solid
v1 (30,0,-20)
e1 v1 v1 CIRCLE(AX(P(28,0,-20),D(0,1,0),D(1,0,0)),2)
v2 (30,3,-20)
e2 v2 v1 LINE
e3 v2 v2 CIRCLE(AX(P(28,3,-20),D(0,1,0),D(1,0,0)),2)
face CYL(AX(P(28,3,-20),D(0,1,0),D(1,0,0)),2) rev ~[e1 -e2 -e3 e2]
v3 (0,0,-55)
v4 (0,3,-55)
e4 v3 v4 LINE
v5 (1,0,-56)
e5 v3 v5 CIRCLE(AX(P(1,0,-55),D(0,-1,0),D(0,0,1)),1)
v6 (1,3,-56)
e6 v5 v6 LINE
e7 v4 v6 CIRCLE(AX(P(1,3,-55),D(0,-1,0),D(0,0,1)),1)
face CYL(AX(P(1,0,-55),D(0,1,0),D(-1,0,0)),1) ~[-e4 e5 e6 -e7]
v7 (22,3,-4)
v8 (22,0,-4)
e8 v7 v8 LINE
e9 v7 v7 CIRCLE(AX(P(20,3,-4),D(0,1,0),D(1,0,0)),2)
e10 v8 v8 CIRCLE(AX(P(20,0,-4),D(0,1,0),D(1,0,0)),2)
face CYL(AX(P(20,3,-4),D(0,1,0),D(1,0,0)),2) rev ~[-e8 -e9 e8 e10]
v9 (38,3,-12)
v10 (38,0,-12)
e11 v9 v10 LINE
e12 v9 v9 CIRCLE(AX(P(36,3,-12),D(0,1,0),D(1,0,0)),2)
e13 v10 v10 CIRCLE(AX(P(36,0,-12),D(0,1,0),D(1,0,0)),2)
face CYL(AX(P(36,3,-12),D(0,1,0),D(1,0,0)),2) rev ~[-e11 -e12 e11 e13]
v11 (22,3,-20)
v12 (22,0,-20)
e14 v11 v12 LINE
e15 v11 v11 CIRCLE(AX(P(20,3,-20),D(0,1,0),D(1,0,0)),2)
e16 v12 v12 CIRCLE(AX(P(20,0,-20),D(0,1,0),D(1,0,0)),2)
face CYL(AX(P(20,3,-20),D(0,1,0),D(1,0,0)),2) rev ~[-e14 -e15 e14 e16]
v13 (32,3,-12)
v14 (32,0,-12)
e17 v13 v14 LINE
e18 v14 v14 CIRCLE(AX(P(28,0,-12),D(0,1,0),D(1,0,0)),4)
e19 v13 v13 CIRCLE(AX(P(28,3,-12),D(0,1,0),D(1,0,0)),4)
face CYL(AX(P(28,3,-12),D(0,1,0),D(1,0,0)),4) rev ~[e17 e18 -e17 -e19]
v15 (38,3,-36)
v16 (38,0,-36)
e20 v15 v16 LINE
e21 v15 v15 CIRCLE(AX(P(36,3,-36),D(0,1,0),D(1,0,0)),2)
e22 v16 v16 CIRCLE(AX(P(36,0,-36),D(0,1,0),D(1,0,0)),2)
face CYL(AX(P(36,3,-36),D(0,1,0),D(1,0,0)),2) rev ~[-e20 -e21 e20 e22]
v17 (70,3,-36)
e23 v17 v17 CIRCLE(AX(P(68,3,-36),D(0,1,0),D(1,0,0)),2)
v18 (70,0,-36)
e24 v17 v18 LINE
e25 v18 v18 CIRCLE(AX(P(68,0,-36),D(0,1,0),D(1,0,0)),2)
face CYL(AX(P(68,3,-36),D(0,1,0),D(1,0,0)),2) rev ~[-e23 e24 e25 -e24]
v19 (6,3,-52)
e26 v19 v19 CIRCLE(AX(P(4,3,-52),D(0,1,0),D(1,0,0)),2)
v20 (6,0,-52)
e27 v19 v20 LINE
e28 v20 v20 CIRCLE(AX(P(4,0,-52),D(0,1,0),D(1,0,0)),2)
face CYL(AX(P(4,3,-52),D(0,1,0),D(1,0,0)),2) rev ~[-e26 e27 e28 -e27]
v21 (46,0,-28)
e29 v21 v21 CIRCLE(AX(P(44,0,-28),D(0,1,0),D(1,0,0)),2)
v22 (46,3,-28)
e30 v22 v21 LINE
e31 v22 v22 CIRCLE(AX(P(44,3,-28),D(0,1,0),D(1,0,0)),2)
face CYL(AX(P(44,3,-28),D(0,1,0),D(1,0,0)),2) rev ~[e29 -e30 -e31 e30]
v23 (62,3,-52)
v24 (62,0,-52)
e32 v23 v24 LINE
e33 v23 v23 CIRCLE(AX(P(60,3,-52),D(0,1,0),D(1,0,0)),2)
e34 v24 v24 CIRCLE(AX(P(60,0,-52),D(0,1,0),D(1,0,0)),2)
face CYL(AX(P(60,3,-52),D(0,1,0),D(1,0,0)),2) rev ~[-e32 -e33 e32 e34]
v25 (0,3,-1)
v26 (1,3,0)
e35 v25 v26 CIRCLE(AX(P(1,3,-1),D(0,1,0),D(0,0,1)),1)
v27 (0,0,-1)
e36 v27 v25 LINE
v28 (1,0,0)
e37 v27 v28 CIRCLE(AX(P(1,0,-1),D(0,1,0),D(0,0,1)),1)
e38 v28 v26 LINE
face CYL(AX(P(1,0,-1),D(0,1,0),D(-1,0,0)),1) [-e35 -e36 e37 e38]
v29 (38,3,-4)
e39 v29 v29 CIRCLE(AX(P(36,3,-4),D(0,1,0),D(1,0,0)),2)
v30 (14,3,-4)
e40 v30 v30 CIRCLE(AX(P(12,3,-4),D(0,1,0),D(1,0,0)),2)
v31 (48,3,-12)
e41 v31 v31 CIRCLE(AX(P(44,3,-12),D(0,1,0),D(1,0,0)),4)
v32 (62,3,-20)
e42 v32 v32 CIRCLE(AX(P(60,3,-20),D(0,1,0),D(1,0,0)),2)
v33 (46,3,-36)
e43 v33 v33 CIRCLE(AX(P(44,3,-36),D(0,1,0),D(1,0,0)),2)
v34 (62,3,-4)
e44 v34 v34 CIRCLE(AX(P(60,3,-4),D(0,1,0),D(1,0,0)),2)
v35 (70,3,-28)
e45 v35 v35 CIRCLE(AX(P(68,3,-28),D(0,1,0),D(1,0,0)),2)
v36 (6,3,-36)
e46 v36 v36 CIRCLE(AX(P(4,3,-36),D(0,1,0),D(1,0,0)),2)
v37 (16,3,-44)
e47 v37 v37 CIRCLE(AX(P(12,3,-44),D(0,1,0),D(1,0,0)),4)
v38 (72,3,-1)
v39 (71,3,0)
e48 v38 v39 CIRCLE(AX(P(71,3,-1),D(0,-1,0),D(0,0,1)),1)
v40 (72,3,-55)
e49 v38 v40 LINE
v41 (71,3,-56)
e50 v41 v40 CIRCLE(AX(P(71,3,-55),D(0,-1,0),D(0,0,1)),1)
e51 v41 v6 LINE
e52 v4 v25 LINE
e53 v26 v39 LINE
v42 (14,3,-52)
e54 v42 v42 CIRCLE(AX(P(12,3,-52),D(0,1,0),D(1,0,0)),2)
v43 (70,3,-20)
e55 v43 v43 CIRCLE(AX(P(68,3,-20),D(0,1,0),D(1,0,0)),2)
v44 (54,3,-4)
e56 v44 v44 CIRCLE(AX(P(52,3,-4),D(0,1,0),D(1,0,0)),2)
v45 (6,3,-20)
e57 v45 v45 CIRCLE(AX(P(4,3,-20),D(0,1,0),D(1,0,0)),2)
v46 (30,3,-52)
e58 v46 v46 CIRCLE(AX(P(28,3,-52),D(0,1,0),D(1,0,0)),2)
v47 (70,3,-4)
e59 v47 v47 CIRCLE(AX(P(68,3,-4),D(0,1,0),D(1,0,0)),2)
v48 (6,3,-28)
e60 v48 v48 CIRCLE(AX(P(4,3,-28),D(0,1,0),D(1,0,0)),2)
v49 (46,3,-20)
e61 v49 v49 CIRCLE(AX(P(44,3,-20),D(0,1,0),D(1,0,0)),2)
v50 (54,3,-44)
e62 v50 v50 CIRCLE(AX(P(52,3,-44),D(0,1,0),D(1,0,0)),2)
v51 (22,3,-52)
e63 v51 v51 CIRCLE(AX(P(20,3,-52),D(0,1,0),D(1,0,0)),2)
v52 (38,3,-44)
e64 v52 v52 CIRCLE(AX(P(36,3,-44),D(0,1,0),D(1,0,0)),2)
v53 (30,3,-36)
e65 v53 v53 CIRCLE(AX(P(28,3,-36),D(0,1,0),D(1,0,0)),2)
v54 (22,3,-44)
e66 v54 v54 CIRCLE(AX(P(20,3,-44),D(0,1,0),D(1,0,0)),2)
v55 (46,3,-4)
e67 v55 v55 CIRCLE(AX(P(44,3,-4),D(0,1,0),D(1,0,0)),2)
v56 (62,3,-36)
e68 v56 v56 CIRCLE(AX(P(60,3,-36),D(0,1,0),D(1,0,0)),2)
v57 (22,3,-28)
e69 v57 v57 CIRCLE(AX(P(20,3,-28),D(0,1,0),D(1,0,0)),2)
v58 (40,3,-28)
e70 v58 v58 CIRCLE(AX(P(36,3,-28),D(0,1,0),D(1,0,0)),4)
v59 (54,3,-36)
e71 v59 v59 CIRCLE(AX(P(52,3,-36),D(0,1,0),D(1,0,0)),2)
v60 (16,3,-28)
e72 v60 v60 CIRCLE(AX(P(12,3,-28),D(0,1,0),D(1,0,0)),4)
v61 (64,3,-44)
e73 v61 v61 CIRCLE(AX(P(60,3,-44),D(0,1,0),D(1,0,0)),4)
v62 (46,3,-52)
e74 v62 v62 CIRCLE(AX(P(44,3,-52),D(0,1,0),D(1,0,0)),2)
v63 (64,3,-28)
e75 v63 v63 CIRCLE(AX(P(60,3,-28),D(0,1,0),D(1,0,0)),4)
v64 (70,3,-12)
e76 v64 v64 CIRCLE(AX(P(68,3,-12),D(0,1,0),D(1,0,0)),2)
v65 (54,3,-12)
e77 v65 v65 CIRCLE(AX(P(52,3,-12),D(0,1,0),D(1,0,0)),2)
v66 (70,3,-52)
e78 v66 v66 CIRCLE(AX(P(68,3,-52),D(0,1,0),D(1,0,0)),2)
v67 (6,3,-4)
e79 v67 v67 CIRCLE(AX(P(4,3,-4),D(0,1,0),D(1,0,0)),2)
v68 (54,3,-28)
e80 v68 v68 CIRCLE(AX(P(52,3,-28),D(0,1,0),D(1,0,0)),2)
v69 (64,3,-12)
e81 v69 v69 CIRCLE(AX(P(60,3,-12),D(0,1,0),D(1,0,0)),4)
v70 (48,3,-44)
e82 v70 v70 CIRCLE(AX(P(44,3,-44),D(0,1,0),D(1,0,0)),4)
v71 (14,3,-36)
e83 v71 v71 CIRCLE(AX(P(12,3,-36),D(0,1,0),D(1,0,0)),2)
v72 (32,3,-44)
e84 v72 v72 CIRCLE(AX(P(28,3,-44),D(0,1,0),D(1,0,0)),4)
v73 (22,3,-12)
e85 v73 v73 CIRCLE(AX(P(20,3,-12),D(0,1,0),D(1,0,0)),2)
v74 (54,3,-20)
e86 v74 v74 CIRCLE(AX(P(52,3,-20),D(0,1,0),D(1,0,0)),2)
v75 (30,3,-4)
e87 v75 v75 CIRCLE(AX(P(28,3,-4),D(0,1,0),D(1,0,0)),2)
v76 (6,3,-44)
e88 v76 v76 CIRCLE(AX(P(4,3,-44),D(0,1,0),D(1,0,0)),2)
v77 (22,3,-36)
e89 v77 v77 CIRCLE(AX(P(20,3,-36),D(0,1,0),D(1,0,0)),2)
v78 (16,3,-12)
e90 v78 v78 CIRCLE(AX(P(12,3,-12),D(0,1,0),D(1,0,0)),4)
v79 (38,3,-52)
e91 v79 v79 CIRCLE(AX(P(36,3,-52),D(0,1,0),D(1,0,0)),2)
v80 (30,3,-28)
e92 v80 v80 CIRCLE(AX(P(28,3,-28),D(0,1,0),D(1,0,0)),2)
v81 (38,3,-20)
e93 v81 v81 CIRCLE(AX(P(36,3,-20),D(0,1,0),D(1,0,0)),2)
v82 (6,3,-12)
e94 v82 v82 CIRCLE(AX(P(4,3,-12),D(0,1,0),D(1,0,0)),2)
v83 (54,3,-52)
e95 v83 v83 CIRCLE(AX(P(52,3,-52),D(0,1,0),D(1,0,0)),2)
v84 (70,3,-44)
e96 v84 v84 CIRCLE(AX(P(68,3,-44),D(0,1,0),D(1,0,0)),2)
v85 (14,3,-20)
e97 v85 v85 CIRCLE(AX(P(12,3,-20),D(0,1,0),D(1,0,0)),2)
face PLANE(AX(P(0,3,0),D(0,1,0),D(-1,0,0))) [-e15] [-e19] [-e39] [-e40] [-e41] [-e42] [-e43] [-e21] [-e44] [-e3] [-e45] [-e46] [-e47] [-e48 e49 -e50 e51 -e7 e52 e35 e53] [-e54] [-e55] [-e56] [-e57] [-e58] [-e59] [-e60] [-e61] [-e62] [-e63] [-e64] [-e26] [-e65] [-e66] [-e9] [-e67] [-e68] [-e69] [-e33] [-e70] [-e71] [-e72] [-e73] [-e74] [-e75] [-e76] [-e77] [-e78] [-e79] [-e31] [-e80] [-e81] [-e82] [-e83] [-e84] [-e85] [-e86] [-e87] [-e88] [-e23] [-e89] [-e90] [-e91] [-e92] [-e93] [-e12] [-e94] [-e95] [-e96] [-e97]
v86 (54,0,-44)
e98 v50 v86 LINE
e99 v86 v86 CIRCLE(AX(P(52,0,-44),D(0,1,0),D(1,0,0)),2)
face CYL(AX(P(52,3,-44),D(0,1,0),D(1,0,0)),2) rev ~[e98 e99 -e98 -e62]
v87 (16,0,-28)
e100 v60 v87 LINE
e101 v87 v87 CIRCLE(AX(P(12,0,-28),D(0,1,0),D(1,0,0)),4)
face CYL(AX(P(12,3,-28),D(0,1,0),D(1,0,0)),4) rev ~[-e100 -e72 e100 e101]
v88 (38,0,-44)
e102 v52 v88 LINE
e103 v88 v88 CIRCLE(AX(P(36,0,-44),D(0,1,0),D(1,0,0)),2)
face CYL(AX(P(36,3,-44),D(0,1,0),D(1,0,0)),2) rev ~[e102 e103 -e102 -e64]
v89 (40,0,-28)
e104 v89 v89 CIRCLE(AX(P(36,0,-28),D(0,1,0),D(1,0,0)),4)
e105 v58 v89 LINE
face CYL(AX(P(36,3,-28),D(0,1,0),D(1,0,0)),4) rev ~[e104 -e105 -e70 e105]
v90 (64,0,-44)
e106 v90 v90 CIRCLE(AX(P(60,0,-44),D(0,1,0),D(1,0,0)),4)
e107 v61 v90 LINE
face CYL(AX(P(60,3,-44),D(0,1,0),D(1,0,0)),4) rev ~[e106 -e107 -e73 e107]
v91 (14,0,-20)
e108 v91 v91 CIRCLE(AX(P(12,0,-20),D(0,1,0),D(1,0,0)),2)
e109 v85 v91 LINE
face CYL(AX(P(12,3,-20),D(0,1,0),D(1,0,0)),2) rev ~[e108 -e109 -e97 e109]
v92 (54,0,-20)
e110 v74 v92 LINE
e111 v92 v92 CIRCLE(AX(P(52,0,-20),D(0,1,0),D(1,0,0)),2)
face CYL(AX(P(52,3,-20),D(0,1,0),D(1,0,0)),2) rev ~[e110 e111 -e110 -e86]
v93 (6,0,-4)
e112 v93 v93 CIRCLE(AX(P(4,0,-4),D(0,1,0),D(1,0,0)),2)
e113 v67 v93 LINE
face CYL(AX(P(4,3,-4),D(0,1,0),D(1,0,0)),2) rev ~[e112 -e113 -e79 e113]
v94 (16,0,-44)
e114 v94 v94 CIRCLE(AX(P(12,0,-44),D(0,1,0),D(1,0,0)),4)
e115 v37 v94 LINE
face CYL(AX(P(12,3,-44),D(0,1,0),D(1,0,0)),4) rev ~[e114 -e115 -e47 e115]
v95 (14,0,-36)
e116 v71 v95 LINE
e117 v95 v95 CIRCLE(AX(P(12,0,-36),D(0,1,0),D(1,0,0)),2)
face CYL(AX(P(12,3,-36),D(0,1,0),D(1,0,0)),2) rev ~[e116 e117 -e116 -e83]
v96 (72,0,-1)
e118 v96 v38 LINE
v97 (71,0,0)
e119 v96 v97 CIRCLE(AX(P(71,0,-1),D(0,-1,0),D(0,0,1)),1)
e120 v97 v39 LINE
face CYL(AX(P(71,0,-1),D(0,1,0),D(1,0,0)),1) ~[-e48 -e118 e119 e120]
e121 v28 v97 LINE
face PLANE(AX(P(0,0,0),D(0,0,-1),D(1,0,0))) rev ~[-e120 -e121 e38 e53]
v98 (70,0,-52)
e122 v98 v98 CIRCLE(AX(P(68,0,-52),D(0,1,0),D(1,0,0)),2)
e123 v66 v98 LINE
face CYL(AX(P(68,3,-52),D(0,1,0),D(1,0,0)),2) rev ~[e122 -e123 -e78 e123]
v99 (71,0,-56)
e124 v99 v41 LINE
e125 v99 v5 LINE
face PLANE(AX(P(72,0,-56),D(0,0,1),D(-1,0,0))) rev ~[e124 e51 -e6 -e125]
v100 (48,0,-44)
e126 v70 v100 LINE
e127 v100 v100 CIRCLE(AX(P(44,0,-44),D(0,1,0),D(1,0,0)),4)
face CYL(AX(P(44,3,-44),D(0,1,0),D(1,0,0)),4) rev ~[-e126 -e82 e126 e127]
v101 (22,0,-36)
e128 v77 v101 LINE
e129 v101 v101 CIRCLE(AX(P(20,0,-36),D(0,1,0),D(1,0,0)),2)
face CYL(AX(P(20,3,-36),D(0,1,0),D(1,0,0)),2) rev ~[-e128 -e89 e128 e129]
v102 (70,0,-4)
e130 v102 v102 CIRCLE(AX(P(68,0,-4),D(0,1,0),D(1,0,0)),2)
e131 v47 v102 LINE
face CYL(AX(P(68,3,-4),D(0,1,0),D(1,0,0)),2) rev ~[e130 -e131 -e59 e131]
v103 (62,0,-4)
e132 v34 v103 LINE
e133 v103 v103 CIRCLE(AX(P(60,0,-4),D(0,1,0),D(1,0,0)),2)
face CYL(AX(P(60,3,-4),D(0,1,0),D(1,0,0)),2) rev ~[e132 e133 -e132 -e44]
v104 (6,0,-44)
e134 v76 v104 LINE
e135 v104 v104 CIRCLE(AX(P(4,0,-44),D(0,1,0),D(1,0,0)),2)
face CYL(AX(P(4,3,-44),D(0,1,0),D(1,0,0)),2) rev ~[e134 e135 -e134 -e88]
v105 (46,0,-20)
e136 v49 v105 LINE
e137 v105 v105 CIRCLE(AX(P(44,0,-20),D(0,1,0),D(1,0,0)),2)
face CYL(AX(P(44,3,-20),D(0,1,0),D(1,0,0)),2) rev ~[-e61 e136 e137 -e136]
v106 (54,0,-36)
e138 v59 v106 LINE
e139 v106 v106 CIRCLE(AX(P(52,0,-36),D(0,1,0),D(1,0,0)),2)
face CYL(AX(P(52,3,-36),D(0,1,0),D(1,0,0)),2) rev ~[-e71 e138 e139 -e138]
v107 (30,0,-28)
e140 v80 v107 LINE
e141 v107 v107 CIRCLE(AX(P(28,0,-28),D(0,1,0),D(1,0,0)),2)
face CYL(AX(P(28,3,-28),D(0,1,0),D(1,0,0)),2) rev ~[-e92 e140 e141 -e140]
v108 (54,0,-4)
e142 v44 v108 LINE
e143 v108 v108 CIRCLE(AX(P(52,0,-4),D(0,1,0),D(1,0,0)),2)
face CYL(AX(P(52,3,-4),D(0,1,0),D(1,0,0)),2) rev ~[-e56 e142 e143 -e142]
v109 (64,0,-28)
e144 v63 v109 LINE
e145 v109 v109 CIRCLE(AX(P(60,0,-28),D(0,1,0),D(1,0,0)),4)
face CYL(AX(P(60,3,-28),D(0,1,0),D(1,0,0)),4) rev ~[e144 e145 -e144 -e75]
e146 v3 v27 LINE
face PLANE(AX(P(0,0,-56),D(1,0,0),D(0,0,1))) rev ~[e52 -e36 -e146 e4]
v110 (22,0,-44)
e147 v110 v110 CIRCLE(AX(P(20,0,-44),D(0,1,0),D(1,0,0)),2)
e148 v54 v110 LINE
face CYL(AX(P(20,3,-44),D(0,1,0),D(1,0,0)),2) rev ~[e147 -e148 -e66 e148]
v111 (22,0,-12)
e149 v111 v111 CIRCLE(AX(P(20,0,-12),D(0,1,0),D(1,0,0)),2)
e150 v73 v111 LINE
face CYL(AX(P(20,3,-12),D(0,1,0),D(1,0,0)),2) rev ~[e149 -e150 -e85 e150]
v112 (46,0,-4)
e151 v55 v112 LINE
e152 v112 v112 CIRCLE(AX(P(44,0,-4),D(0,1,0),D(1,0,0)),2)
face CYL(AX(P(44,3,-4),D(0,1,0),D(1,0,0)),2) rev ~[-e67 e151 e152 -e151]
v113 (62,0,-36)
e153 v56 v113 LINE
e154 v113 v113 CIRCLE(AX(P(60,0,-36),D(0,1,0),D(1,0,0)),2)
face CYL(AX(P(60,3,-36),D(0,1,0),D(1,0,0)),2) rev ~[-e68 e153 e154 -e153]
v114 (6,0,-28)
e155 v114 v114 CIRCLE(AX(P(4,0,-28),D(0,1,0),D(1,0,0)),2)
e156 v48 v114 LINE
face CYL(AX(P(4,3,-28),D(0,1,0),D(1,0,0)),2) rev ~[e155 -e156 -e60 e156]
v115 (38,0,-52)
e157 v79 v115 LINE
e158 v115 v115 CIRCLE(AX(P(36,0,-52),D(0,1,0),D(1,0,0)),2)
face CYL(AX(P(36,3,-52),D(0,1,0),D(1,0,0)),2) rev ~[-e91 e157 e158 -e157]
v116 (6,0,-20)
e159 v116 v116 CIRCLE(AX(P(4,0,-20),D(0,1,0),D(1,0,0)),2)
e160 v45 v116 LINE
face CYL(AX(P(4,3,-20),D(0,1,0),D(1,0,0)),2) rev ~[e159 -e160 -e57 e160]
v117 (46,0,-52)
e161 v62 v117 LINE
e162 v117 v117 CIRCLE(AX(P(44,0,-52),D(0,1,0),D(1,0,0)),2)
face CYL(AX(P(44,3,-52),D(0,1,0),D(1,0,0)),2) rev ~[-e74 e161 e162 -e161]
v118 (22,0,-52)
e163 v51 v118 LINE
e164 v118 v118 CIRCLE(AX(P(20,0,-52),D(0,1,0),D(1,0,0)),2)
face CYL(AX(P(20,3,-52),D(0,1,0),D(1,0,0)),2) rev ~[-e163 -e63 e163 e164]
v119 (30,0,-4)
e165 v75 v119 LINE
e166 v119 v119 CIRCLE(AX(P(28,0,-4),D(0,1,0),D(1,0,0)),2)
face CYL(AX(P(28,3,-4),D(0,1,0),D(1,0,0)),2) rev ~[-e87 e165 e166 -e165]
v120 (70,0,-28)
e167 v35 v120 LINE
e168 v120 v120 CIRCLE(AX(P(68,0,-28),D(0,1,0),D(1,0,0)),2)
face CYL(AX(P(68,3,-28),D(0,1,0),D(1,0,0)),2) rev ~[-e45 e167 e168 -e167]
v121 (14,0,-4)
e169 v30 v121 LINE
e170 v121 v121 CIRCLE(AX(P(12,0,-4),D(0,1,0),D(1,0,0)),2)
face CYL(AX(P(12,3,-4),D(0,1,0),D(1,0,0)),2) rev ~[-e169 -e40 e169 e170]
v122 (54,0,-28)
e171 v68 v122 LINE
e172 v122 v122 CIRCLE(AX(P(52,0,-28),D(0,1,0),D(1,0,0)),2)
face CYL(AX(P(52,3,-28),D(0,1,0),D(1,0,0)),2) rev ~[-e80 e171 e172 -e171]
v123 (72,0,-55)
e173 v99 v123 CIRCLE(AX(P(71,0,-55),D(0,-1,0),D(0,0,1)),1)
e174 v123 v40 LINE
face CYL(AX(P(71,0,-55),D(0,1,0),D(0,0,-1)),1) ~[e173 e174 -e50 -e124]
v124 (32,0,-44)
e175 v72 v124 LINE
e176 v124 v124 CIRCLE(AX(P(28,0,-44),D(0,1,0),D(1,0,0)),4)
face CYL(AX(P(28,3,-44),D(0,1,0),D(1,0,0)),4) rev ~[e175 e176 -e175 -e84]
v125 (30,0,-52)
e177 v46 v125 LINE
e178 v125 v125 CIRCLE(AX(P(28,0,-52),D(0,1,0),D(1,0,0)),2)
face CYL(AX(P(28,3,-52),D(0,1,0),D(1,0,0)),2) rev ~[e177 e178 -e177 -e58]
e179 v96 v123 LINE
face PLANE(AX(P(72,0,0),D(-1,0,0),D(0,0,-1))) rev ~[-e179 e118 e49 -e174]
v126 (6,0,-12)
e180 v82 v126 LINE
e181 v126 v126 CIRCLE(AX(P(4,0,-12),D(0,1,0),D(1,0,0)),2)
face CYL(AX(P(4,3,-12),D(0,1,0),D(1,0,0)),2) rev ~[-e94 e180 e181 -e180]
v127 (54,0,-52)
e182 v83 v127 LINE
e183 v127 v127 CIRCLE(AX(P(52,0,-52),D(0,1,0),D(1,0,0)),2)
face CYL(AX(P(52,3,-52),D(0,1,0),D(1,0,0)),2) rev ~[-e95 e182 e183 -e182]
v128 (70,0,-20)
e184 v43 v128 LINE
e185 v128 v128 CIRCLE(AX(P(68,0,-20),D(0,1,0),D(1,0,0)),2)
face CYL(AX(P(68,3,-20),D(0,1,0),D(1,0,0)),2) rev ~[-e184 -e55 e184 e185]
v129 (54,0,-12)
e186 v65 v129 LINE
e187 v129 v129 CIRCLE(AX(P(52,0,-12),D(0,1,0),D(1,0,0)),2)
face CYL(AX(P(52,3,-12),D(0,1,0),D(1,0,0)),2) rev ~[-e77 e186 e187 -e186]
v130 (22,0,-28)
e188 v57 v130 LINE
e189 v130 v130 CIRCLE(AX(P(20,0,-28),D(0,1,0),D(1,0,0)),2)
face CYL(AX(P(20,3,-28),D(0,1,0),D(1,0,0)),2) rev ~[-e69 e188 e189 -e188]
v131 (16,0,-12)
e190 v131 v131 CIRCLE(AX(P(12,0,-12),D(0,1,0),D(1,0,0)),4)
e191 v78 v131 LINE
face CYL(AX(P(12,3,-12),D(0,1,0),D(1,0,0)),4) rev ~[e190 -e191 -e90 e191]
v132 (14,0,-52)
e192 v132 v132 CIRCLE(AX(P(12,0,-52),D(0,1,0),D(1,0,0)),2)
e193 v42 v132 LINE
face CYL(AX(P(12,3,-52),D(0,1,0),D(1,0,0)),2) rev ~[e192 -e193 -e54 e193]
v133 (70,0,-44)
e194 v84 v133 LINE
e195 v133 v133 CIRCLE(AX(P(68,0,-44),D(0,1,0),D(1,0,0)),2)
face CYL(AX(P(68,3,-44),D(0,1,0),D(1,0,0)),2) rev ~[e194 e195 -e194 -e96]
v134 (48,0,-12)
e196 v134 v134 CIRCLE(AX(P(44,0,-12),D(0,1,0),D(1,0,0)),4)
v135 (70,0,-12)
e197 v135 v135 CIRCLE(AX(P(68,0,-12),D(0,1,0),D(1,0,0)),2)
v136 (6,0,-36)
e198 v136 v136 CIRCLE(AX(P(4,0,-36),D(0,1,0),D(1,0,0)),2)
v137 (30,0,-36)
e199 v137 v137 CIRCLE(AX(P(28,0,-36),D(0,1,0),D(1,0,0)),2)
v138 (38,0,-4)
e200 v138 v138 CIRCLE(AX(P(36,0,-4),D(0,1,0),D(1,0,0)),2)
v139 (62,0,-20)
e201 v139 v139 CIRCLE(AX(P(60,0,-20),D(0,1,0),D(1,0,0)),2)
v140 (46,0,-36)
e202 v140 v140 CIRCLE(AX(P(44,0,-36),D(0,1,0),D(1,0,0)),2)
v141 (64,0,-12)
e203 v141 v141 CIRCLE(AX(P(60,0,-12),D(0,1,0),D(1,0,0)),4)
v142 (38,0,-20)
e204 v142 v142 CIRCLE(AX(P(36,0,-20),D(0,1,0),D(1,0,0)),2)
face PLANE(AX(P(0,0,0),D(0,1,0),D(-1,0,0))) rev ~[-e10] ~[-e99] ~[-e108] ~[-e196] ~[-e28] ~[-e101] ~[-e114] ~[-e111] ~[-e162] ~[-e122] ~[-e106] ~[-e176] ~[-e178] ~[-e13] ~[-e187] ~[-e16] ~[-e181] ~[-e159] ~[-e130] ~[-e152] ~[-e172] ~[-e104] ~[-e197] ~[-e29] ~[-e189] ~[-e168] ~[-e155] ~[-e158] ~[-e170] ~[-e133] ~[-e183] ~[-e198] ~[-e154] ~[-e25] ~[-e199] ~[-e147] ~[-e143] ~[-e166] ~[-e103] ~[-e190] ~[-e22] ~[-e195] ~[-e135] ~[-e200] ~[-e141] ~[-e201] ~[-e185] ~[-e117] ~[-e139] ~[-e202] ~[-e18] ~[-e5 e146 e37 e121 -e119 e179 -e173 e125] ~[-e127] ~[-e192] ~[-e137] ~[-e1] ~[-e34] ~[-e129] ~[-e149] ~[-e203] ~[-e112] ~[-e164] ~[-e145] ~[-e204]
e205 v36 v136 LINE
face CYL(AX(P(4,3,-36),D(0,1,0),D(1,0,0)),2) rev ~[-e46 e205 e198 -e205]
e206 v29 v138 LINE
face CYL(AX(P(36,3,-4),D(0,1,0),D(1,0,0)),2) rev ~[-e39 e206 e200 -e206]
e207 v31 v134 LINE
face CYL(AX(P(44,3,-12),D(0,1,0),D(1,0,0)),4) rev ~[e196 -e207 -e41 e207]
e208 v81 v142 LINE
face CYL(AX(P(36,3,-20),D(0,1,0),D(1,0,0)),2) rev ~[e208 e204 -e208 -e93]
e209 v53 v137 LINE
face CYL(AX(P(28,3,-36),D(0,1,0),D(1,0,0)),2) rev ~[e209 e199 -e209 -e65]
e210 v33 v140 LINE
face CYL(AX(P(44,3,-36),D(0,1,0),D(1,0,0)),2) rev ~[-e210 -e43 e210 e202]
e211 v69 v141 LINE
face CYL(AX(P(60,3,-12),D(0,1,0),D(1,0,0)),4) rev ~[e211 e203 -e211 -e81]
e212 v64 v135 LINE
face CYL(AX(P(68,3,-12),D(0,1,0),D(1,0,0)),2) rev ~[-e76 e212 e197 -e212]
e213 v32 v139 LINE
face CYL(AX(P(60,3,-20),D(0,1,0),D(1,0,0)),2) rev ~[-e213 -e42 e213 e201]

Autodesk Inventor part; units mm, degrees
ref_plane "YZ Plane" through (0, 0, 0) normal (1, 0, 0) x (0, 1, 0)
ref_plane "XZ Plane" through (0, 0, 0) normal (0, 1, 0) x (-1, 0, 0)
ref_plane "XY Plane" through (0, 0, 0) normal (0, 0, 1) x (1, 0, 0)
sketch "Sketch1" plane through (0, 0, 0) normal (0, 1, 0) x (-1, 0, 0)
  line L0 (0, 0) -> (-72, 0)
  line L1 (-72, 0) -> (-72, -56)
  line L2 (-72, -56) -> (0, -56)
  line L3 (0, -56) -> (0, 0)
extrude "Extrusion1" add sketch "Sketch1" along normal blind 3
sketch "Sketch2" plane through (0, 3, 0) normal (0, 1, 0) x (1, 0, 0)
  circle A0 centre (12, 44) radius 4
  line L0 (0, 56) -> (0, 0) projected
  line L1 (72, 56) -> (0, 56) projected
  circle A1 centre (12, 28) radius 4
  circle A2 centre (12, 12) radius 4
  circle A3 centre (28, 44) radius 4
  circle A4 centre (28, 12) radius 4
  circle A5 centre (44, 44) radius 4
  circle A6 centre (44, 12) radius 4
  circle A7 centre (60, 44) radius 4
  circle A8 centre (60, 12) radius 4
  circle A9 centre (60, 28) radius 4
  circle A10 centre (36, 28) radius 4
  circle A11 centre (4, 52) radius 2
  circle A12 centre (12, 52) radius 2
  circle A13 centre (20, 52) radius 2
  circle A14 centre (28, 52) radius 2
  circle A15 centre (36, 52) radius 2
  circle A16 centre (44, 52) radius 2
  circle A17 centre (52, 52) radius 2
  circle A18 centre (60, 52) radius 2
  circle A19 centre (68, 52) radius 2
  circle A20 centre (4, 44) radius 2
  circle A21 centre (4, 36) radius 2
  circle A22 centre (4, 28) radius 2
  circle A23 centre (4, 20) radius 2
  circle A24 centre (4, 12) radius 2
  circle A25 centre (4, 4) radius 2
  circle A26 centre (12, 4) radius 2
  circle A27 centre (20, 4) radius 2
  circle A28 centre (28, 4) radius 2
  circle A29 centre (36, 4) radius 2
  circle A30 centre (44, 4) radius 2
  circle A31 centre (52, 4) radius 2
  circle A32 centre (60, 4) radius 2
  circle A33 centre (68, 4) radius 2
  circle A34 centre (68, 44) radius 2
  circle A35 centre (68, 36) radius 2
  circle A36 centre (68, 28) radius 2
  circle A37 centre (68, 20) radius 2
  circle A38 centre (68, 12) radius 2
  circle A39 centre (68, 4) radius 2
  circle A40 centre (12, 36) radius 2
  circle A41 centre (20, 36) radius 2
  circle A42 centre (28, 36) radius 2
  circle A43 centre (36, 36) radius 2
  circle A44 centre (44, 36) radius 2
  circle A45 centre (52, 36) radius 2
  circle A46 centre (60, 36) radius 2
  circle A47 centre (12, 20) radius 2
  circle A48 centre (20, 20) radius 2
  circle A49 centre (28, 20) radius 2
  circle A50 centre (36, 20) radius 2
  circle A51 centre (44, 20) radius 2
  circle A52 centre (52, 20) radius 2
  circle A53 centre (60, 20) radius 2
  circle A54 centre (20, 44) radius 2
  circle A55 centre (36, 44) radius 2
  circle A56 centre (52, 44) radius 2
  circle A57 centre (20, 12) radius 2
  circle A58 centre (36, 12) radius 2
  circle A59 centre (52, 12) radius 2
  circle A60 centre (20, 28) radius 2
  circle A61 centre (28, 28) radius 2
  circle A62 centre (44, 28) radius 2
  circle A63 centre (52, 28) radius 2
  dimension "d2" = 8
  dimension "d3" = 8
  dimension "d4" = 8
  dimension "d7" = 16
  dimension "d14" = 16
  dimension "d21" = 16
  dimension "d28" = 24
  dimension "d33" = 4
  dimension "d34" = 2
  dimension "d35" = 2
  dimension "d38" = 8
  dimension "d45" = 8
  dimension "d52" = 8
  dimension "d59" = 8
  dimension "d66" = 8
  dimension "d73" = 8
  dimension "d80" = 8
  dimension "d87" = 8
  dimension "d94" = 8
fillet "Fillet1" radius 1 4 edges at (72, 1.5, -56) (72, 1.5, 0) (0, 1.5, 0) (0, 1.5, -56)
extrude "Extrusion2" cut sketch "Sketch2" against normal blind 4
properties part number "Aluminum Plate"
